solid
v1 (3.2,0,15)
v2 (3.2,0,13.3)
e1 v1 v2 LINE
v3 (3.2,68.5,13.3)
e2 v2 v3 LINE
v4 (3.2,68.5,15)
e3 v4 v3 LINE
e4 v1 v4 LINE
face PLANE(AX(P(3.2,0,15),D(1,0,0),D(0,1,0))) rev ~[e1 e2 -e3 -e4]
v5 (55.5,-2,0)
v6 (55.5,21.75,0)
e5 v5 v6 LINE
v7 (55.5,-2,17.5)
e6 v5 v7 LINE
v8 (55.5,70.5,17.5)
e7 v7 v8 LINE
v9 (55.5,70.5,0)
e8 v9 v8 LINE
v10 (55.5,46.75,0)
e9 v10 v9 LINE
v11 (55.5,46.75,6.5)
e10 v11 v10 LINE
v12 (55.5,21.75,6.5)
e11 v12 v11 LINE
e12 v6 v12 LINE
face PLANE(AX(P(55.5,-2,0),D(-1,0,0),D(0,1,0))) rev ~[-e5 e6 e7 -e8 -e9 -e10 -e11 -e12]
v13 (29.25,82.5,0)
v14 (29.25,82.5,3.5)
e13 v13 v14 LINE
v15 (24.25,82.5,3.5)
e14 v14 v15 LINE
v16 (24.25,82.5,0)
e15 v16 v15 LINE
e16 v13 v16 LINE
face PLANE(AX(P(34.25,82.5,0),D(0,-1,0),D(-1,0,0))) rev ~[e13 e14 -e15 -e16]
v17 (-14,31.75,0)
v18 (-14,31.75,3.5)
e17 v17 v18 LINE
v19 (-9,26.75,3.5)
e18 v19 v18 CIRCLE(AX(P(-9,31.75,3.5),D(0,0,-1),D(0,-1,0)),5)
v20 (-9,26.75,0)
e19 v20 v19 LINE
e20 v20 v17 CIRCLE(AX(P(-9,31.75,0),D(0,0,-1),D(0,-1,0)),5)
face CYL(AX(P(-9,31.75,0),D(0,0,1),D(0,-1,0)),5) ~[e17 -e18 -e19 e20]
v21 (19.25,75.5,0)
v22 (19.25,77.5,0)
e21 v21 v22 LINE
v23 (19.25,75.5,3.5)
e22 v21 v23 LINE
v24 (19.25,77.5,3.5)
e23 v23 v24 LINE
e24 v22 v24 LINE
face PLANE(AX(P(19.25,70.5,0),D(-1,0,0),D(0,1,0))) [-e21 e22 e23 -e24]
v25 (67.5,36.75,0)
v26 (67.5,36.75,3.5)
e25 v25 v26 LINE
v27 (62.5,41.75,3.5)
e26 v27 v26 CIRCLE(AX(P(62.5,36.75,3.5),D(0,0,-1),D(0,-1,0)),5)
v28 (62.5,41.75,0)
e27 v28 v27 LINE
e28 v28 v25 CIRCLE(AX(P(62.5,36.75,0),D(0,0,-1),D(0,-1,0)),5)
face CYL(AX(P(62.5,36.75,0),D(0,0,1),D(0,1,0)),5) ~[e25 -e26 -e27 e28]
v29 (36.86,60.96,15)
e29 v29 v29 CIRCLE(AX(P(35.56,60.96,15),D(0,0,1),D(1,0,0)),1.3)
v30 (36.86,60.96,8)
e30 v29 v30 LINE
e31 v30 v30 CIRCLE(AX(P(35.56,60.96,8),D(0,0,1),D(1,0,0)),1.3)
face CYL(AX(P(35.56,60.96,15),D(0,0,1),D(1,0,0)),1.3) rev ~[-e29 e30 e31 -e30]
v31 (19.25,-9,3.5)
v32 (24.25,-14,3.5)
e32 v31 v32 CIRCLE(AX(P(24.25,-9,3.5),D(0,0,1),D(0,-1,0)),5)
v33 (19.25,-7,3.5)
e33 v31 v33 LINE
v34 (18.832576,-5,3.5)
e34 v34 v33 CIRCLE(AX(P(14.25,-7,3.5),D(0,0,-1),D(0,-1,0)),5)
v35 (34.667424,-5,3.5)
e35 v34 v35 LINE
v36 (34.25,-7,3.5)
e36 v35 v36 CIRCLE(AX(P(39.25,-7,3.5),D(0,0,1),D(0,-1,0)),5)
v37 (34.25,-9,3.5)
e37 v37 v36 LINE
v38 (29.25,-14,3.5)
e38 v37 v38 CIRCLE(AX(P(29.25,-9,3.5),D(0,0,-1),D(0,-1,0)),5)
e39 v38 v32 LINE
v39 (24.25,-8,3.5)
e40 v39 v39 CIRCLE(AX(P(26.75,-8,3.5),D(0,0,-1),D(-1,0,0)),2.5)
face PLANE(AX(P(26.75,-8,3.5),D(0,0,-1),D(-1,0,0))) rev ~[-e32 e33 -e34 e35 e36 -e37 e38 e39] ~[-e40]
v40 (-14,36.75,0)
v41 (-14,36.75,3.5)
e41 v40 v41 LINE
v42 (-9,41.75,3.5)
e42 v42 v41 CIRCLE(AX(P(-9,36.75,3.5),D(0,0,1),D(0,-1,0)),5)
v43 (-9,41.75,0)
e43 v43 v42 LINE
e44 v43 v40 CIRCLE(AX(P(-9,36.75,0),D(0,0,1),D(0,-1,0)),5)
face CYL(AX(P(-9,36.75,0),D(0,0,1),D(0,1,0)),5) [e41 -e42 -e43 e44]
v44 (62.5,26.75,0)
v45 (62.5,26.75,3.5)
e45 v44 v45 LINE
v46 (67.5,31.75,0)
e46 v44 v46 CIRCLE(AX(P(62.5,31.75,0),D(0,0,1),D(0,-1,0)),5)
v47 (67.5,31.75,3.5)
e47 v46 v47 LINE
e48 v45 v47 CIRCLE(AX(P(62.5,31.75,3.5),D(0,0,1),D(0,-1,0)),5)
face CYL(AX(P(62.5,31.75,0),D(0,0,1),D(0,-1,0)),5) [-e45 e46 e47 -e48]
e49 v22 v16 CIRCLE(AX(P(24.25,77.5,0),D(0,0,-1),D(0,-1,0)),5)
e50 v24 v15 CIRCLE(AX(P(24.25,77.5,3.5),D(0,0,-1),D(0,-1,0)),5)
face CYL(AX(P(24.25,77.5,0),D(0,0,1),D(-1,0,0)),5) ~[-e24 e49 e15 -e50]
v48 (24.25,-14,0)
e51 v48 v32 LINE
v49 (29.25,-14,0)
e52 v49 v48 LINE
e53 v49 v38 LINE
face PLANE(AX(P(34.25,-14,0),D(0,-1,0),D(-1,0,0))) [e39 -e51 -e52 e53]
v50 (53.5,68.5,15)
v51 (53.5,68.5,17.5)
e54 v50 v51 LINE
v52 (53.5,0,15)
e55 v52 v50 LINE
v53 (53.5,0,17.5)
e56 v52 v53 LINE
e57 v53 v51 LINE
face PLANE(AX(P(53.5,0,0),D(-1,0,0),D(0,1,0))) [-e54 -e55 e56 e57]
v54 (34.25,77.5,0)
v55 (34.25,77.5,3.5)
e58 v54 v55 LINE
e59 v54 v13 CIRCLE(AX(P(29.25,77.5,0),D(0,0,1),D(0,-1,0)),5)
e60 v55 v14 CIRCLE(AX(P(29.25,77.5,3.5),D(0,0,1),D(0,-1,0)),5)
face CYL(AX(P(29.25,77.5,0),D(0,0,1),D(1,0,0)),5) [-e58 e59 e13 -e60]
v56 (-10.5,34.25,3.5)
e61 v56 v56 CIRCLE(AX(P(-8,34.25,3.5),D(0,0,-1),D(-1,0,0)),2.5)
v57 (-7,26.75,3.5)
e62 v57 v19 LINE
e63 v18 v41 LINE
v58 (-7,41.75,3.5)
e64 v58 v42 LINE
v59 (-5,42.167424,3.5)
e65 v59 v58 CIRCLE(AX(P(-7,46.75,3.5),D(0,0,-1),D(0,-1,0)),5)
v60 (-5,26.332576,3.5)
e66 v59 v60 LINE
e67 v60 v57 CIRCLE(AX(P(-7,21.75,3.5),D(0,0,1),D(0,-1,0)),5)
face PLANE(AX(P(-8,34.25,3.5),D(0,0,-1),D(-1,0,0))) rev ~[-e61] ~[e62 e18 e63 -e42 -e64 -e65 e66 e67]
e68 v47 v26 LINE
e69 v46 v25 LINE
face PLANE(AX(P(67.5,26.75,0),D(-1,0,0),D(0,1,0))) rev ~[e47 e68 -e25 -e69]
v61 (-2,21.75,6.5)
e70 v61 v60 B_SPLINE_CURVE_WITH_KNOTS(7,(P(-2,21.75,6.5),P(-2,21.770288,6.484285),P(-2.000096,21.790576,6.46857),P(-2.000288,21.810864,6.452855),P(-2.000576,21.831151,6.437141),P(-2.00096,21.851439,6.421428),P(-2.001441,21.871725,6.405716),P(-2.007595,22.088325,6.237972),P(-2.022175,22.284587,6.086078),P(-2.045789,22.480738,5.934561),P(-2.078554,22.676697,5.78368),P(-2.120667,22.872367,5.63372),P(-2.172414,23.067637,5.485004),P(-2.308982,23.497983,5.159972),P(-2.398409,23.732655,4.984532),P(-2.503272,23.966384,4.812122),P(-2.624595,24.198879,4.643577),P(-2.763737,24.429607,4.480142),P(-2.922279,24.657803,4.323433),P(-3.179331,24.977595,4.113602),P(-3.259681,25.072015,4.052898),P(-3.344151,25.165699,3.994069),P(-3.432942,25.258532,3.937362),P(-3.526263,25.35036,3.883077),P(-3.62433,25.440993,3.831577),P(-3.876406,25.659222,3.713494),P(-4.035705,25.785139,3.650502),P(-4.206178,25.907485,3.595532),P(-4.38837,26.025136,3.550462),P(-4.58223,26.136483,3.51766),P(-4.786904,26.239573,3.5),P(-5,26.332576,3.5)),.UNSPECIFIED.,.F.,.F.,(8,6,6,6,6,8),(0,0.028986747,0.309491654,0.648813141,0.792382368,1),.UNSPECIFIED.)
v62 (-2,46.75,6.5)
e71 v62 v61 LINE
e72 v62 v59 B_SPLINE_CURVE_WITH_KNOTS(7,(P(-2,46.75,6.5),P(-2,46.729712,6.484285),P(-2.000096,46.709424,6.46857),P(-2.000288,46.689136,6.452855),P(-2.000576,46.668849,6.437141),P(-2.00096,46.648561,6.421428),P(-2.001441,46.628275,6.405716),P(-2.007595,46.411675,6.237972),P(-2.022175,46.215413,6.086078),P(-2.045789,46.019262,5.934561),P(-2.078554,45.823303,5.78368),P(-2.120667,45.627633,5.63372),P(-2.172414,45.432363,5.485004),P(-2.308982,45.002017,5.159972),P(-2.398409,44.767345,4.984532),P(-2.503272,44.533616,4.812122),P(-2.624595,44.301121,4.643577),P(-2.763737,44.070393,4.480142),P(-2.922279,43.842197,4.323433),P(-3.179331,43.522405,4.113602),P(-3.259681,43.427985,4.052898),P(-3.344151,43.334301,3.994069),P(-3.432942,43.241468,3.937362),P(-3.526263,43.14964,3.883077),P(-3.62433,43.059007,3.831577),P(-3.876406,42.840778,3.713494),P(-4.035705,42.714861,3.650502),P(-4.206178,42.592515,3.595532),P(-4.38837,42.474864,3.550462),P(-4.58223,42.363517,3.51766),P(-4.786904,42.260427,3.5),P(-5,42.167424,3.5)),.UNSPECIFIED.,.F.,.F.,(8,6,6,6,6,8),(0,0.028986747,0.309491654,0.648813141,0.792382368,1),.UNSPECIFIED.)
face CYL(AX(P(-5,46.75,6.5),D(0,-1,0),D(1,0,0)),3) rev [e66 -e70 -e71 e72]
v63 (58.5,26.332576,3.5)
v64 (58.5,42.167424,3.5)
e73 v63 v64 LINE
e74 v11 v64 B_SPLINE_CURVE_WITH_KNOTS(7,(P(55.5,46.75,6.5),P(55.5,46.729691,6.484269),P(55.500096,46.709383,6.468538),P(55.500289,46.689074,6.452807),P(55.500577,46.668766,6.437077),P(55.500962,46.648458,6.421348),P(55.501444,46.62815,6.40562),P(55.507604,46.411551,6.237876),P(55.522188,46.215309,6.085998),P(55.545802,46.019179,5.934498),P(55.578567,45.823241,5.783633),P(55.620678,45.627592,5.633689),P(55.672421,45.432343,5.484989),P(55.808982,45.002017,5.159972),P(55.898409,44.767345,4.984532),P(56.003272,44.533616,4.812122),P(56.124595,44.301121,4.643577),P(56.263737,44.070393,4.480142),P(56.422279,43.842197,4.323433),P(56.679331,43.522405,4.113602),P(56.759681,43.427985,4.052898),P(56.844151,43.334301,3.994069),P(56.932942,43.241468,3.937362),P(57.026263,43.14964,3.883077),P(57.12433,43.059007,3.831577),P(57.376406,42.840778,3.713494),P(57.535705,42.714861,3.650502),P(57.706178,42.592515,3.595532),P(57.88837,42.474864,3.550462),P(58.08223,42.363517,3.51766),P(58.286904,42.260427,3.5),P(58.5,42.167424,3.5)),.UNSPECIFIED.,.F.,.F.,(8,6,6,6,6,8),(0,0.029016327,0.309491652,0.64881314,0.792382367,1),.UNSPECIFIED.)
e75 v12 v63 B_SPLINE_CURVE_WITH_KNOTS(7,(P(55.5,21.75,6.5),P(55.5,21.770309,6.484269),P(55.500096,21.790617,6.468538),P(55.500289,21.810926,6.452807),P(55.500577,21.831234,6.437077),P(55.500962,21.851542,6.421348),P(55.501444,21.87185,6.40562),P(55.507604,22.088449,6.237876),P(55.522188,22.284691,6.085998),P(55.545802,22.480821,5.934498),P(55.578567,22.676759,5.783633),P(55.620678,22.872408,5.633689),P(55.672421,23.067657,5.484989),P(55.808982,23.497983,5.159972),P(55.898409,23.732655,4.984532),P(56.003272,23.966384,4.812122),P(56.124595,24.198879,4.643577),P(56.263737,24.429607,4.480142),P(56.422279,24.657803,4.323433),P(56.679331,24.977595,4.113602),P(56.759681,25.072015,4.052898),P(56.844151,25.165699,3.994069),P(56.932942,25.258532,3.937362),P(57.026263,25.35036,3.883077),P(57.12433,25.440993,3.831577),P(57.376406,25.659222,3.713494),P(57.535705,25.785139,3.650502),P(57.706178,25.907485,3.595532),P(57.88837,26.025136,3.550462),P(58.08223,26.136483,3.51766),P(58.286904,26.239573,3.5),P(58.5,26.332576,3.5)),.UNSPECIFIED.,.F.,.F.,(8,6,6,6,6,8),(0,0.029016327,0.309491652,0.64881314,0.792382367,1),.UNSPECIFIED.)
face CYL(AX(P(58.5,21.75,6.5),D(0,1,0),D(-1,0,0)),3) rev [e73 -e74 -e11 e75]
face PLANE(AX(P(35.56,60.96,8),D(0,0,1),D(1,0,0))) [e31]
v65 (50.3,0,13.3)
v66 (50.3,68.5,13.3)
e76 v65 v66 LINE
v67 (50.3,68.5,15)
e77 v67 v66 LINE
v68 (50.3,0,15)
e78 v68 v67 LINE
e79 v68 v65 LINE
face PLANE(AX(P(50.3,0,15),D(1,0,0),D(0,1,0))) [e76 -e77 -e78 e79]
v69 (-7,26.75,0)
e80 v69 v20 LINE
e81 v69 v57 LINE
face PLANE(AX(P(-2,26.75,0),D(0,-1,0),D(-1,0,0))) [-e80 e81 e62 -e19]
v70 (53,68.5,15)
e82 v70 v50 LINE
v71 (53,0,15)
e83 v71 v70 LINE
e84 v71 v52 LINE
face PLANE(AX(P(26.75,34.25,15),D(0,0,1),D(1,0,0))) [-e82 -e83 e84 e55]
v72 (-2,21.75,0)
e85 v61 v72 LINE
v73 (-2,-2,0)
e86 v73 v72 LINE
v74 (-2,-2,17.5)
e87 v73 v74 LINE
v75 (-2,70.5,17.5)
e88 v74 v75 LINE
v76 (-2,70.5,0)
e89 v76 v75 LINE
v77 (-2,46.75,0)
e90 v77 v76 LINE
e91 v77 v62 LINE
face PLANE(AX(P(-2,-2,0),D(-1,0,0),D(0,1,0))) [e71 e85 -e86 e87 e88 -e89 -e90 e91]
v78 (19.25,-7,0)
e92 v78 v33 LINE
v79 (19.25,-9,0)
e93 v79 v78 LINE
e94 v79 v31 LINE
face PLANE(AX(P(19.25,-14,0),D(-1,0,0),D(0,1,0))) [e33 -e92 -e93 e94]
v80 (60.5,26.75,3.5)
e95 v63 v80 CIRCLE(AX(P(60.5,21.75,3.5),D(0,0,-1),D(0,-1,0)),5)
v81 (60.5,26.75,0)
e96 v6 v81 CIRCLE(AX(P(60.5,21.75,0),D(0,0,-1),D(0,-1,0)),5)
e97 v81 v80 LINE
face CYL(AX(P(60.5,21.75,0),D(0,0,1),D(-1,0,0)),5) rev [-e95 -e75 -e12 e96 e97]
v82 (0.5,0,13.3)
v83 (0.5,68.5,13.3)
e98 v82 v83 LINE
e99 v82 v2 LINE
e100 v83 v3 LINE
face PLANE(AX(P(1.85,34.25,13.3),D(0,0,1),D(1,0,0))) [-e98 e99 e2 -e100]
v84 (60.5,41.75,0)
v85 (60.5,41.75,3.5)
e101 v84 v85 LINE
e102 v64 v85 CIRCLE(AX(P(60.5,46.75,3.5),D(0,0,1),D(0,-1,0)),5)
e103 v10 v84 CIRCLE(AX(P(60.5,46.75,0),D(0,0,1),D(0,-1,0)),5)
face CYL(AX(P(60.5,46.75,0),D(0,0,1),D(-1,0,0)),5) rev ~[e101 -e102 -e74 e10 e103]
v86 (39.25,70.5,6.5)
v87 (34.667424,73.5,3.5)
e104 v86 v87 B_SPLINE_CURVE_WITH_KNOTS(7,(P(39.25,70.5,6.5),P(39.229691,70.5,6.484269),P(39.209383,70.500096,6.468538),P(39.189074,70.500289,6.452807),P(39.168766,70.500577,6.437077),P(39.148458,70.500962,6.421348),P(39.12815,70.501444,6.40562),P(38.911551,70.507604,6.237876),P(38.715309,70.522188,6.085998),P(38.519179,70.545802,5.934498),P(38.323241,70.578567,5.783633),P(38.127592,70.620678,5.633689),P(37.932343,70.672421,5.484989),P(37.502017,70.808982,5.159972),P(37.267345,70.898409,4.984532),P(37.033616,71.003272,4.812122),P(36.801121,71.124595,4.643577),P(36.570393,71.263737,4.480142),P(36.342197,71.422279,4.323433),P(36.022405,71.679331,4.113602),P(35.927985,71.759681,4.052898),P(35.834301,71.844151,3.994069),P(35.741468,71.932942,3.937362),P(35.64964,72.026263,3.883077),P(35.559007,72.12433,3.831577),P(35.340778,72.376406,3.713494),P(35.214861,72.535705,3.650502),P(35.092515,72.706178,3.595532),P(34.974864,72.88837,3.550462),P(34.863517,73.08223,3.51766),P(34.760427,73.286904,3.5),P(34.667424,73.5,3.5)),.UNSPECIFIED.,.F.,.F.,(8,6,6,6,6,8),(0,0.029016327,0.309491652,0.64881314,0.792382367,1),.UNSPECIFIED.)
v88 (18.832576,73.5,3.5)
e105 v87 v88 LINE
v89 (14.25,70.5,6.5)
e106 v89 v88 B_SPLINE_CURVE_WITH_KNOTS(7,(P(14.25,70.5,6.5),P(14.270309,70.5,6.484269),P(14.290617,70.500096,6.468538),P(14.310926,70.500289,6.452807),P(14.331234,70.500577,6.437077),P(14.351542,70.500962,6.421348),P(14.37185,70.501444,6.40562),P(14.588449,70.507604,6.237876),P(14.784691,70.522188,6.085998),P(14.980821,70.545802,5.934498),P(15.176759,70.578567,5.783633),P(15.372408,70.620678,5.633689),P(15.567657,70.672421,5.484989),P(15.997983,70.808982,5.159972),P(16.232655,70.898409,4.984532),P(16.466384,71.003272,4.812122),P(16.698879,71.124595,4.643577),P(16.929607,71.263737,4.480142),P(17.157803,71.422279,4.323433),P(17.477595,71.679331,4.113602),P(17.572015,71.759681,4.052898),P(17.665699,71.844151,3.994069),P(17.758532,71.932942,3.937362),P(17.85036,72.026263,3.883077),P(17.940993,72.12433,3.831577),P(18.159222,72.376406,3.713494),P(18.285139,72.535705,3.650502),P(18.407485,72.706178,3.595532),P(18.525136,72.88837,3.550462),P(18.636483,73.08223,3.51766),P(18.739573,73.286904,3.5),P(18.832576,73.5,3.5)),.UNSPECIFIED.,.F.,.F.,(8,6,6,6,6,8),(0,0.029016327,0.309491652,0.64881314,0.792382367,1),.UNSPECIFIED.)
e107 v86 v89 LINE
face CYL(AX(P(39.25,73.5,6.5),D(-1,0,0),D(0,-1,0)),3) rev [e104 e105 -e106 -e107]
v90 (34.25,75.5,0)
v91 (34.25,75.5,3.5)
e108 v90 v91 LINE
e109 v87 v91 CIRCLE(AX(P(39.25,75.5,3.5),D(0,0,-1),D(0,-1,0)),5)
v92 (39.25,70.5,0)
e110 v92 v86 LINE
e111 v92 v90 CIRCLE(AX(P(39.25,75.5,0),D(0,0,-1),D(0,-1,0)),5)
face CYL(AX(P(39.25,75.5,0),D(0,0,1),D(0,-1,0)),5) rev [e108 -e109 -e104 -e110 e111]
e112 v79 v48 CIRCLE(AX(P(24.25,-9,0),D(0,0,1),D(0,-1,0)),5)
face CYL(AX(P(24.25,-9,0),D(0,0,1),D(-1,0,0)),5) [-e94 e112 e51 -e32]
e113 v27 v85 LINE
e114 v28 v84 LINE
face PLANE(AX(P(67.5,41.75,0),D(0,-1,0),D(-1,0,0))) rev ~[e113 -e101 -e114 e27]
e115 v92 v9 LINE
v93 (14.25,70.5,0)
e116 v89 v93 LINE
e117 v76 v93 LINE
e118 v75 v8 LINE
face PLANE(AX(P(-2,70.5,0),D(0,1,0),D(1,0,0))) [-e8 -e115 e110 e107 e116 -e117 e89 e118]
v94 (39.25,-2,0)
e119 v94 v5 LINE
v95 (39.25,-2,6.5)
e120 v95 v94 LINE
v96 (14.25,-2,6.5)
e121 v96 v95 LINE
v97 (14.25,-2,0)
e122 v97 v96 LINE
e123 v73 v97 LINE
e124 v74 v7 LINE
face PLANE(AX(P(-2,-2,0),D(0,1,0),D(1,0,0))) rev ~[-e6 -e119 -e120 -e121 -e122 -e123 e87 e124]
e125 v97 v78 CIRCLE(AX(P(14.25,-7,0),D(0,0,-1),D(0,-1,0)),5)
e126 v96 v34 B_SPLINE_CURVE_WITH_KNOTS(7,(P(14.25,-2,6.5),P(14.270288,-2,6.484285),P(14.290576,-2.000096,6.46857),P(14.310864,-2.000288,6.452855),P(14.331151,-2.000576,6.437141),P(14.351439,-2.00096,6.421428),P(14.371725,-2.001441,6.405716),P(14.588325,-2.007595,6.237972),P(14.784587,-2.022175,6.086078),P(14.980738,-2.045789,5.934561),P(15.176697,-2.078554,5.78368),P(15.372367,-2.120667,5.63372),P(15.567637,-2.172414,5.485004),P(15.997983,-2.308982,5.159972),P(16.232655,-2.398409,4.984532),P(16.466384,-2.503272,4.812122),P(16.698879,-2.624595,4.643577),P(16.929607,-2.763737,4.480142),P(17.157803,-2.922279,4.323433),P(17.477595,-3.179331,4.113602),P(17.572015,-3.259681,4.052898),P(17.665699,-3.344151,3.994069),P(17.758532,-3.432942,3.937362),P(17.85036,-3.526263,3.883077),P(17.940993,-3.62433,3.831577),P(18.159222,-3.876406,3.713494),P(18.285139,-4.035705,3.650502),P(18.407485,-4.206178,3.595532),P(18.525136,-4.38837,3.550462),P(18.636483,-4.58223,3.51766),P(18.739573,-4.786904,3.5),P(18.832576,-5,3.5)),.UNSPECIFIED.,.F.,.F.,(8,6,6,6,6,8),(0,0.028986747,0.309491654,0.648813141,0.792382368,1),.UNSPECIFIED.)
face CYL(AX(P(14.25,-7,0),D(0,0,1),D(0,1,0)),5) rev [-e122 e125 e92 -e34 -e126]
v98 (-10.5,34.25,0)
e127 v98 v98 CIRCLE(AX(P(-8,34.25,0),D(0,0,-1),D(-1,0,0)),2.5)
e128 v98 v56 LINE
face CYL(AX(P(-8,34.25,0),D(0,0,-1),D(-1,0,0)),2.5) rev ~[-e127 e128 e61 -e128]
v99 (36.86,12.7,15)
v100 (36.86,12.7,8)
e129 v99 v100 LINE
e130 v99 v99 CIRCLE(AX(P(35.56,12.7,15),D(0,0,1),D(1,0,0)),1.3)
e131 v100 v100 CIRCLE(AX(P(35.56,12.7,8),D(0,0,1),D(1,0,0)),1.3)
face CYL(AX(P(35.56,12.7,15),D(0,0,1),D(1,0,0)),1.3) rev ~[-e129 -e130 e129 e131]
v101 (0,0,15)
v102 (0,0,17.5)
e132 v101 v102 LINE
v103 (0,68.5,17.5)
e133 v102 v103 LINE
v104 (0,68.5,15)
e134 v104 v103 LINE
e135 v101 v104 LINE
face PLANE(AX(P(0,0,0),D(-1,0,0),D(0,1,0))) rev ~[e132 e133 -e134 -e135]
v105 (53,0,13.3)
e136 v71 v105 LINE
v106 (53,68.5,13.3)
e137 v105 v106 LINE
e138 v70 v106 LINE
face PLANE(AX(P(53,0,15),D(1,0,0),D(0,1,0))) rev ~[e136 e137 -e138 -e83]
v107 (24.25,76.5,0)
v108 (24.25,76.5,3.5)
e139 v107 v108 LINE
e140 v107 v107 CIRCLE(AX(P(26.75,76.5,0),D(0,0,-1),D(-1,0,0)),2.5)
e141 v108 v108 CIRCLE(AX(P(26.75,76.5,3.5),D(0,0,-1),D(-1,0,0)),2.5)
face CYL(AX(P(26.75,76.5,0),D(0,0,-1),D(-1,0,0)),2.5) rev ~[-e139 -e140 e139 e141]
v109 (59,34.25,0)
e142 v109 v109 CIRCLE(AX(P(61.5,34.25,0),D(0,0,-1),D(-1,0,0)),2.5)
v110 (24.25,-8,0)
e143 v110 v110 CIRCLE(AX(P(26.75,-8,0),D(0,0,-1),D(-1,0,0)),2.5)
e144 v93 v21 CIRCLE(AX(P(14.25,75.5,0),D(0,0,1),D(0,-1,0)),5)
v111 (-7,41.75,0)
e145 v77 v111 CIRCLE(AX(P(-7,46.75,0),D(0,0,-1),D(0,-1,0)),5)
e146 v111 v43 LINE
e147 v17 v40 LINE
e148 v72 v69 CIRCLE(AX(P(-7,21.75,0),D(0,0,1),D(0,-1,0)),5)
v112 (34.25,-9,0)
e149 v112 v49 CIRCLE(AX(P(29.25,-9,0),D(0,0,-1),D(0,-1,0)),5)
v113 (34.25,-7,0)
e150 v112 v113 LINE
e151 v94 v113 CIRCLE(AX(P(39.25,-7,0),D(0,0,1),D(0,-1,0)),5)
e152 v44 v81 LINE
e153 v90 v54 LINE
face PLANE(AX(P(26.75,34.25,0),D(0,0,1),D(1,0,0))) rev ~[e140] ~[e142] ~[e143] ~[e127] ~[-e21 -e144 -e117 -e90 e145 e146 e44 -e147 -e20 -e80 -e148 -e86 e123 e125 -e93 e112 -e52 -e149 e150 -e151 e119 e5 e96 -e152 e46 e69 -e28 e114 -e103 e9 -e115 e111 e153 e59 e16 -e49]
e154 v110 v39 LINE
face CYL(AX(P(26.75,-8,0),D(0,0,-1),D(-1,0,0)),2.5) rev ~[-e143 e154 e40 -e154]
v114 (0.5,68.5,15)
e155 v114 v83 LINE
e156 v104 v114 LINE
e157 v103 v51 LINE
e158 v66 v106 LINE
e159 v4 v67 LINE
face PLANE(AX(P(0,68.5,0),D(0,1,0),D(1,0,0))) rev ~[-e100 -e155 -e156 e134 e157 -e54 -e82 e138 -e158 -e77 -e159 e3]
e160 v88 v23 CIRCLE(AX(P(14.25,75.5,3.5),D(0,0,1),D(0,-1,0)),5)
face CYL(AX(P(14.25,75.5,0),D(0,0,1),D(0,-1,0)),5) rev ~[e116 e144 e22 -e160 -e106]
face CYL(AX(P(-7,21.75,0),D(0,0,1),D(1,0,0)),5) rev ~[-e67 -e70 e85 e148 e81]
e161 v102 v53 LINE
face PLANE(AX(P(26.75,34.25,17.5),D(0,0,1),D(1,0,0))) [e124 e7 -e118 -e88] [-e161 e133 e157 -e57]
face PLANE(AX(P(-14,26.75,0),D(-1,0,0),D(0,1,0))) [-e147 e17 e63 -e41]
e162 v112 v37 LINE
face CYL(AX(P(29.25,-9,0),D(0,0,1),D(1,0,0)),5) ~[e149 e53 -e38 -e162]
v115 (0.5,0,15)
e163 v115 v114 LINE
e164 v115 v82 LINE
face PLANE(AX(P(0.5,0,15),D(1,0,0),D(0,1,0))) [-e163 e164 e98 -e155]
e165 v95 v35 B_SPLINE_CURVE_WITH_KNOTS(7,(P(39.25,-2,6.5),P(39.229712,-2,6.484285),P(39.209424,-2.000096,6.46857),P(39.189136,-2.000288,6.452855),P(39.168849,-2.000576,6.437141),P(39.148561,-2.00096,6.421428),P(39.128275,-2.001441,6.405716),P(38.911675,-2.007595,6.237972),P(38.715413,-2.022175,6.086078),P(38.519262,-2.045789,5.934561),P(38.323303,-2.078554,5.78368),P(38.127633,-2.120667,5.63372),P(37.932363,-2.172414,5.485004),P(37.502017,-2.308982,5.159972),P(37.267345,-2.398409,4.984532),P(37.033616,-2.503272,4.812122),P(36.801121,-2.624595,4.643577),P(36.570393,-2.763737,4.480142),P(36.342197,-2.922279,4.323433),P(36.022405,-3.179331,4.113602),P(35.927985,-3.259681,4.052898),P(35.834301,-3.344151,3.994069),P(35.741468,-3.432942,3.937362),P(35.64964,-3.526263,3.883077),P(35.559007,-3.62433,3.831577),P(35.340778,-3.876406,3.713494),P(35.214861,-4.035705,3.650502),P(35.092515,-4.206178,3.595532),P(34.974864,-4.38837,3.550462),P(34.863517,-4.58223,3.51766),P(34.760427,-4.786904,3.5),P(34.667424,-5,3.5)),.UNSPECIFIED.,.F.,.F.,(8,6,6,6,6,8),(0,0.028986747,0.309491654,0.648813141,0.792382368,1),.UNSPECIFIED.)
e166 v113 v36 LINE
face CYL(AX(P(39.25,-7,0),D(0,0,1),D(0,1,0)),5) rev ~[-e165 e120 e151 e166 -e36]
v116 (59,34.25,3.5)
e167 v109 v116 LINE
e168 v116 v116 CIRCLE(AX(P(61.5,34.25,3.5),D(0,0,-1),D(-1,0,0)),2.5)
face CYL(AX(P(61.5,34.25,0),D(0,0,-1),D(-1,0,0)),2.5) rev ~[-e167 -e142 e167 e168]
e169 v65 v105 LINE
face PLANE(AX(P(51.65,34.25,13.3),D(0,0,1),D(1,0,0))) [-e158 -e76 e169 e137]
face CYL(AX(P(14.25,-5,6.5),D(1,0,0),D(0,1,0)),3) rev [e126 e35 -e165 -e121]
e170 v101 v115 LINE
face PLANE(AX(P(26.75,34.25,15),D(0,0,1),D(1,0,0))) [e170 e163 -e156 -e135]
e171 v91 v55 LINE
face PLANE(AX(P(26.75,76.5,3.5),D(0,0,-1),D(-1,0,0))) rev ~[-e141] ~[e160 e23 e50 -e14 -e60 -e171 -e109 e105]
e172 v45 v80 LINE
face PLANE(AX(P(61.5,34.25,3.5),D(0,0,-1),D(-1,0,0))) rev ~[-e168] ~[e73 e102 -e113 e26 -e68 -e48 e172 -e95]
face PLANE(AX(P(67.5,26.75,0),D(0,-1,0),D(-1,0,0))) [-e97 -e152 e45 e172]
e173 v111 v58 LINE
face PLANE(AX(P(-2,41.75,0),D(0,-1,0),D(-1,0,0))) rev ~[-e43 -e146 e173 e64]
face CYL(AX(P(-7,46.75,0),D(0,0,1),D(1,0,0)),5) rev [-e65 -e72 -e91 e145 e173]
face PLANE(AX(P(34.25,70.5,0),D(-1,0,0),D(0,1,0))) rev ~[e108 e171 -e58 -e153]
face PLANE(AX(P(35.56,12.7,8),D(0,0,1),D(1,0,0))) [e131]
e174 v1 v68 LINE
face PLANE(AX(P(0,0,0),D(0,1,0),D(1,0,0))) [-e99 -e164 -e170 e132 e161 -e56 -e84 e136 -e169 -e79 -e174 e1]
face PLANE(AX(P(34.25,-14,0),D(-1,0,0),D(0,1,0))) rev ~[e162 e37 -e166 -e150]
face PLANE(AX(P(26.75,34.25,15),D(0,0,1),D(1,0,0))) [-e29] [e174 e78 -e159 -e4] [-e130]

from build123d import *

# Parameters (mm, degrees)
SKETCH1_W                = 53.5
SKETCH1_H                = 68.5
BOSS_EXTRUDE1_DEPTH      = 15
BOSS_EXTRUDE2_DEPTH      = 2.5
BOSS_EXTRUDE2_DEPTH_BACK = 15
SKETCH2_W                = 57.5
SKETCH2_H                = 72.5
SKETCH2_W_2              = 53.5
SKETCH2_H_2              = 68.5
SKETCH3_W                = 2.7
SKETCH3_H                = 68.5
CUT_EXTRUDE1_DEPTH       = 1.7
SKETCH4_R                = 1.3
CUT_EXTRUDE2_DEPTH       = 7
SKETCH5_W                = 15
SKETCH5_H                = 12
SKETCH5_R                = 2.5
SKETCH5_W_2              = 12
SKETCH5_H_2              = 15
BOSS_EXTRUDE3_DEPTH      = 3.5
FILLET1_R                = 5
FILLET2_R                = 3


with BuildPart() as part:
    # Sketch1 → Boss-Extrude1 (new body)
    with BuildSketch(Plane.XY):
        with Locations((26.75, 34.25)):
            Rectangle(SKETCH1_W, SKETCH1_H)
    extrude(amount=BOSS_EXTRUDE1_DEPTH)

    # Sketch2 → Boss-Extrude2 (add, two sides: drawn at the far end of the back side and taken through both)
    with BuildSketch(Plane.XY.offset(15).offset(-BOSS_EXTRUDE2_DEPTH_BACK)):
        with Locations((26.75, 34.25)):
            Rectangle(SKETCH2_W, SKETCH2_H)
        with Locations((26.75, 34.25)):
            Rectangle(SKETCH2_W_2, SKETCH2_H_2, mode=Mode.SUBTRACT)
    extrude(amount=BOSS_EXTRUDE2_DEPTH + BOSS_EXTRUDE2_DEPTH_BACK)

    # Sketch3 → Cut-Extrude1 (cut)
    with BuildSketch(Plane.XY.offset(15)):
        with Locations((1.85, 34.25)):
            Rectangle(SKETCH3_W, SKETCH3_H)
        with Locations((51.65, 34.25)):
            Rectangle(SKETCH3_W, SKETCH3_H)
    extrude(amount=-CUT_EXTRUDE1_DEPTH, mode=Mode.SUBTRACT)

    # Sketch4 → Cut-Extrude2 (cut)
    with BuildSketch(Plane.XY.offset(15)):
        with Locations((35.56, 12.7)):
            Circle(SKETCH4_R)
        with Locations((35.56, 60.96)):
            Circle(SKETCH4_R)
    extrude(amount=-CUT_EXTRUDE2_DEPTH, mode=Mode.SUBTRACT)

    # Sketch5 → Boss-Extrude3 (add)
    # profile 1 of 4: a face of its own
    with BuildSketch(Plane(origin=(0, 0, 0), x_dir=(-1, 0, 0), z_dir=(0, 0, -1))):
        with Locations((-26.75, -8)):
            Rectangle(SKETCH5_W, SKETCH5_H)
        with Locations((-26.75, -8)):
            Circle(SKETCH5_R, mode=Mode.SUBTRACT)
    # profile 2 of 4: a face of its own
    with BuildSketch(Plane(origin=(0, 0, 0), x_dir=(-1, 0, 0), z_dir=(0, 0, -1))):
        with Locations((8, 34.25)):
            Rectangle(SKETCH5_W_2, SKETCH5_H_2)
        with Locations((8, 34.25)):
            Circle(SKETCH5_R, mode=Mode.SUBTRACT)
    # profile 3 of 4: a face of its own
    with BuildSketch(Plane(origin=(0, 0, 0), x_dir=(-1, 0, 0), z_dir=(0, 0, -1))):
        with Locations((-61.5, 34.25)):
            Rectangle(SKETCH5_W_2, SKETCH5_H_2)
        with Locations((-61.5, 34.25)):
            Circle(SKETCH5_R, mode=Mode.SUBTRACT)
    # profile 4 of 4: a face of its own
    with BuildSketch(Plane(origin=(0, 0, 0), x_dir=(-1, 0, 0), z_dir=(0, 0, -1))):
        with Locations((-26.75, 76.5)):
            Rectangle(SKETCH5_W, SKETCH5_H)
        with Locations((-26.75, 76.5)):
            Circle(SKETCH5_R, mode=Mode.SUBTRACT)
    extrude(amount=-BOSS_EXTRUDE3_DEPTH)

    # Fillet1
    fillet1_edges = [part.edges().sort_by_distance(p)[0] for p in [
        (55.5, 41.75, 1.75),
        (55.5, 26.75, 1.75),
        (67.5, 26.75, 1.75),
        (67.5, 41.75, 1.75),
        (34.25, 70.5, 1.75),
        (34.25, 82.5, 1.75),
        (19.25, 82.5, 1.75),
        (19.25, 70.5, 1.75),
        (34.25, -14, 1.75),
        (34.25, -2, 1.75),
        (19.25, -2, 1.75),
        (19.25, -14, 1.75),
        (-2, 26.75, 1.75),
        (-2, 41.75, 1.75),
        (-14, 41.75, 1.75),
        (-14, 26.75, 1.75),
    ]]
    fillet(fillet1_edges, radius=FILLET1_R)

    # Fillet2
    fillet2_edges = [part.edges().sort_by_distance(p)[0] for p in [
        (55.5, 34.25, 3.5),
        (26.75, 70.5, 3.5),
        (26.75, -2, 3.5),
        (-2, 34.25, 3.5),
    ]]
    fillet(fillet2_edges, radius=FILLET2_R)


solid = part.part
